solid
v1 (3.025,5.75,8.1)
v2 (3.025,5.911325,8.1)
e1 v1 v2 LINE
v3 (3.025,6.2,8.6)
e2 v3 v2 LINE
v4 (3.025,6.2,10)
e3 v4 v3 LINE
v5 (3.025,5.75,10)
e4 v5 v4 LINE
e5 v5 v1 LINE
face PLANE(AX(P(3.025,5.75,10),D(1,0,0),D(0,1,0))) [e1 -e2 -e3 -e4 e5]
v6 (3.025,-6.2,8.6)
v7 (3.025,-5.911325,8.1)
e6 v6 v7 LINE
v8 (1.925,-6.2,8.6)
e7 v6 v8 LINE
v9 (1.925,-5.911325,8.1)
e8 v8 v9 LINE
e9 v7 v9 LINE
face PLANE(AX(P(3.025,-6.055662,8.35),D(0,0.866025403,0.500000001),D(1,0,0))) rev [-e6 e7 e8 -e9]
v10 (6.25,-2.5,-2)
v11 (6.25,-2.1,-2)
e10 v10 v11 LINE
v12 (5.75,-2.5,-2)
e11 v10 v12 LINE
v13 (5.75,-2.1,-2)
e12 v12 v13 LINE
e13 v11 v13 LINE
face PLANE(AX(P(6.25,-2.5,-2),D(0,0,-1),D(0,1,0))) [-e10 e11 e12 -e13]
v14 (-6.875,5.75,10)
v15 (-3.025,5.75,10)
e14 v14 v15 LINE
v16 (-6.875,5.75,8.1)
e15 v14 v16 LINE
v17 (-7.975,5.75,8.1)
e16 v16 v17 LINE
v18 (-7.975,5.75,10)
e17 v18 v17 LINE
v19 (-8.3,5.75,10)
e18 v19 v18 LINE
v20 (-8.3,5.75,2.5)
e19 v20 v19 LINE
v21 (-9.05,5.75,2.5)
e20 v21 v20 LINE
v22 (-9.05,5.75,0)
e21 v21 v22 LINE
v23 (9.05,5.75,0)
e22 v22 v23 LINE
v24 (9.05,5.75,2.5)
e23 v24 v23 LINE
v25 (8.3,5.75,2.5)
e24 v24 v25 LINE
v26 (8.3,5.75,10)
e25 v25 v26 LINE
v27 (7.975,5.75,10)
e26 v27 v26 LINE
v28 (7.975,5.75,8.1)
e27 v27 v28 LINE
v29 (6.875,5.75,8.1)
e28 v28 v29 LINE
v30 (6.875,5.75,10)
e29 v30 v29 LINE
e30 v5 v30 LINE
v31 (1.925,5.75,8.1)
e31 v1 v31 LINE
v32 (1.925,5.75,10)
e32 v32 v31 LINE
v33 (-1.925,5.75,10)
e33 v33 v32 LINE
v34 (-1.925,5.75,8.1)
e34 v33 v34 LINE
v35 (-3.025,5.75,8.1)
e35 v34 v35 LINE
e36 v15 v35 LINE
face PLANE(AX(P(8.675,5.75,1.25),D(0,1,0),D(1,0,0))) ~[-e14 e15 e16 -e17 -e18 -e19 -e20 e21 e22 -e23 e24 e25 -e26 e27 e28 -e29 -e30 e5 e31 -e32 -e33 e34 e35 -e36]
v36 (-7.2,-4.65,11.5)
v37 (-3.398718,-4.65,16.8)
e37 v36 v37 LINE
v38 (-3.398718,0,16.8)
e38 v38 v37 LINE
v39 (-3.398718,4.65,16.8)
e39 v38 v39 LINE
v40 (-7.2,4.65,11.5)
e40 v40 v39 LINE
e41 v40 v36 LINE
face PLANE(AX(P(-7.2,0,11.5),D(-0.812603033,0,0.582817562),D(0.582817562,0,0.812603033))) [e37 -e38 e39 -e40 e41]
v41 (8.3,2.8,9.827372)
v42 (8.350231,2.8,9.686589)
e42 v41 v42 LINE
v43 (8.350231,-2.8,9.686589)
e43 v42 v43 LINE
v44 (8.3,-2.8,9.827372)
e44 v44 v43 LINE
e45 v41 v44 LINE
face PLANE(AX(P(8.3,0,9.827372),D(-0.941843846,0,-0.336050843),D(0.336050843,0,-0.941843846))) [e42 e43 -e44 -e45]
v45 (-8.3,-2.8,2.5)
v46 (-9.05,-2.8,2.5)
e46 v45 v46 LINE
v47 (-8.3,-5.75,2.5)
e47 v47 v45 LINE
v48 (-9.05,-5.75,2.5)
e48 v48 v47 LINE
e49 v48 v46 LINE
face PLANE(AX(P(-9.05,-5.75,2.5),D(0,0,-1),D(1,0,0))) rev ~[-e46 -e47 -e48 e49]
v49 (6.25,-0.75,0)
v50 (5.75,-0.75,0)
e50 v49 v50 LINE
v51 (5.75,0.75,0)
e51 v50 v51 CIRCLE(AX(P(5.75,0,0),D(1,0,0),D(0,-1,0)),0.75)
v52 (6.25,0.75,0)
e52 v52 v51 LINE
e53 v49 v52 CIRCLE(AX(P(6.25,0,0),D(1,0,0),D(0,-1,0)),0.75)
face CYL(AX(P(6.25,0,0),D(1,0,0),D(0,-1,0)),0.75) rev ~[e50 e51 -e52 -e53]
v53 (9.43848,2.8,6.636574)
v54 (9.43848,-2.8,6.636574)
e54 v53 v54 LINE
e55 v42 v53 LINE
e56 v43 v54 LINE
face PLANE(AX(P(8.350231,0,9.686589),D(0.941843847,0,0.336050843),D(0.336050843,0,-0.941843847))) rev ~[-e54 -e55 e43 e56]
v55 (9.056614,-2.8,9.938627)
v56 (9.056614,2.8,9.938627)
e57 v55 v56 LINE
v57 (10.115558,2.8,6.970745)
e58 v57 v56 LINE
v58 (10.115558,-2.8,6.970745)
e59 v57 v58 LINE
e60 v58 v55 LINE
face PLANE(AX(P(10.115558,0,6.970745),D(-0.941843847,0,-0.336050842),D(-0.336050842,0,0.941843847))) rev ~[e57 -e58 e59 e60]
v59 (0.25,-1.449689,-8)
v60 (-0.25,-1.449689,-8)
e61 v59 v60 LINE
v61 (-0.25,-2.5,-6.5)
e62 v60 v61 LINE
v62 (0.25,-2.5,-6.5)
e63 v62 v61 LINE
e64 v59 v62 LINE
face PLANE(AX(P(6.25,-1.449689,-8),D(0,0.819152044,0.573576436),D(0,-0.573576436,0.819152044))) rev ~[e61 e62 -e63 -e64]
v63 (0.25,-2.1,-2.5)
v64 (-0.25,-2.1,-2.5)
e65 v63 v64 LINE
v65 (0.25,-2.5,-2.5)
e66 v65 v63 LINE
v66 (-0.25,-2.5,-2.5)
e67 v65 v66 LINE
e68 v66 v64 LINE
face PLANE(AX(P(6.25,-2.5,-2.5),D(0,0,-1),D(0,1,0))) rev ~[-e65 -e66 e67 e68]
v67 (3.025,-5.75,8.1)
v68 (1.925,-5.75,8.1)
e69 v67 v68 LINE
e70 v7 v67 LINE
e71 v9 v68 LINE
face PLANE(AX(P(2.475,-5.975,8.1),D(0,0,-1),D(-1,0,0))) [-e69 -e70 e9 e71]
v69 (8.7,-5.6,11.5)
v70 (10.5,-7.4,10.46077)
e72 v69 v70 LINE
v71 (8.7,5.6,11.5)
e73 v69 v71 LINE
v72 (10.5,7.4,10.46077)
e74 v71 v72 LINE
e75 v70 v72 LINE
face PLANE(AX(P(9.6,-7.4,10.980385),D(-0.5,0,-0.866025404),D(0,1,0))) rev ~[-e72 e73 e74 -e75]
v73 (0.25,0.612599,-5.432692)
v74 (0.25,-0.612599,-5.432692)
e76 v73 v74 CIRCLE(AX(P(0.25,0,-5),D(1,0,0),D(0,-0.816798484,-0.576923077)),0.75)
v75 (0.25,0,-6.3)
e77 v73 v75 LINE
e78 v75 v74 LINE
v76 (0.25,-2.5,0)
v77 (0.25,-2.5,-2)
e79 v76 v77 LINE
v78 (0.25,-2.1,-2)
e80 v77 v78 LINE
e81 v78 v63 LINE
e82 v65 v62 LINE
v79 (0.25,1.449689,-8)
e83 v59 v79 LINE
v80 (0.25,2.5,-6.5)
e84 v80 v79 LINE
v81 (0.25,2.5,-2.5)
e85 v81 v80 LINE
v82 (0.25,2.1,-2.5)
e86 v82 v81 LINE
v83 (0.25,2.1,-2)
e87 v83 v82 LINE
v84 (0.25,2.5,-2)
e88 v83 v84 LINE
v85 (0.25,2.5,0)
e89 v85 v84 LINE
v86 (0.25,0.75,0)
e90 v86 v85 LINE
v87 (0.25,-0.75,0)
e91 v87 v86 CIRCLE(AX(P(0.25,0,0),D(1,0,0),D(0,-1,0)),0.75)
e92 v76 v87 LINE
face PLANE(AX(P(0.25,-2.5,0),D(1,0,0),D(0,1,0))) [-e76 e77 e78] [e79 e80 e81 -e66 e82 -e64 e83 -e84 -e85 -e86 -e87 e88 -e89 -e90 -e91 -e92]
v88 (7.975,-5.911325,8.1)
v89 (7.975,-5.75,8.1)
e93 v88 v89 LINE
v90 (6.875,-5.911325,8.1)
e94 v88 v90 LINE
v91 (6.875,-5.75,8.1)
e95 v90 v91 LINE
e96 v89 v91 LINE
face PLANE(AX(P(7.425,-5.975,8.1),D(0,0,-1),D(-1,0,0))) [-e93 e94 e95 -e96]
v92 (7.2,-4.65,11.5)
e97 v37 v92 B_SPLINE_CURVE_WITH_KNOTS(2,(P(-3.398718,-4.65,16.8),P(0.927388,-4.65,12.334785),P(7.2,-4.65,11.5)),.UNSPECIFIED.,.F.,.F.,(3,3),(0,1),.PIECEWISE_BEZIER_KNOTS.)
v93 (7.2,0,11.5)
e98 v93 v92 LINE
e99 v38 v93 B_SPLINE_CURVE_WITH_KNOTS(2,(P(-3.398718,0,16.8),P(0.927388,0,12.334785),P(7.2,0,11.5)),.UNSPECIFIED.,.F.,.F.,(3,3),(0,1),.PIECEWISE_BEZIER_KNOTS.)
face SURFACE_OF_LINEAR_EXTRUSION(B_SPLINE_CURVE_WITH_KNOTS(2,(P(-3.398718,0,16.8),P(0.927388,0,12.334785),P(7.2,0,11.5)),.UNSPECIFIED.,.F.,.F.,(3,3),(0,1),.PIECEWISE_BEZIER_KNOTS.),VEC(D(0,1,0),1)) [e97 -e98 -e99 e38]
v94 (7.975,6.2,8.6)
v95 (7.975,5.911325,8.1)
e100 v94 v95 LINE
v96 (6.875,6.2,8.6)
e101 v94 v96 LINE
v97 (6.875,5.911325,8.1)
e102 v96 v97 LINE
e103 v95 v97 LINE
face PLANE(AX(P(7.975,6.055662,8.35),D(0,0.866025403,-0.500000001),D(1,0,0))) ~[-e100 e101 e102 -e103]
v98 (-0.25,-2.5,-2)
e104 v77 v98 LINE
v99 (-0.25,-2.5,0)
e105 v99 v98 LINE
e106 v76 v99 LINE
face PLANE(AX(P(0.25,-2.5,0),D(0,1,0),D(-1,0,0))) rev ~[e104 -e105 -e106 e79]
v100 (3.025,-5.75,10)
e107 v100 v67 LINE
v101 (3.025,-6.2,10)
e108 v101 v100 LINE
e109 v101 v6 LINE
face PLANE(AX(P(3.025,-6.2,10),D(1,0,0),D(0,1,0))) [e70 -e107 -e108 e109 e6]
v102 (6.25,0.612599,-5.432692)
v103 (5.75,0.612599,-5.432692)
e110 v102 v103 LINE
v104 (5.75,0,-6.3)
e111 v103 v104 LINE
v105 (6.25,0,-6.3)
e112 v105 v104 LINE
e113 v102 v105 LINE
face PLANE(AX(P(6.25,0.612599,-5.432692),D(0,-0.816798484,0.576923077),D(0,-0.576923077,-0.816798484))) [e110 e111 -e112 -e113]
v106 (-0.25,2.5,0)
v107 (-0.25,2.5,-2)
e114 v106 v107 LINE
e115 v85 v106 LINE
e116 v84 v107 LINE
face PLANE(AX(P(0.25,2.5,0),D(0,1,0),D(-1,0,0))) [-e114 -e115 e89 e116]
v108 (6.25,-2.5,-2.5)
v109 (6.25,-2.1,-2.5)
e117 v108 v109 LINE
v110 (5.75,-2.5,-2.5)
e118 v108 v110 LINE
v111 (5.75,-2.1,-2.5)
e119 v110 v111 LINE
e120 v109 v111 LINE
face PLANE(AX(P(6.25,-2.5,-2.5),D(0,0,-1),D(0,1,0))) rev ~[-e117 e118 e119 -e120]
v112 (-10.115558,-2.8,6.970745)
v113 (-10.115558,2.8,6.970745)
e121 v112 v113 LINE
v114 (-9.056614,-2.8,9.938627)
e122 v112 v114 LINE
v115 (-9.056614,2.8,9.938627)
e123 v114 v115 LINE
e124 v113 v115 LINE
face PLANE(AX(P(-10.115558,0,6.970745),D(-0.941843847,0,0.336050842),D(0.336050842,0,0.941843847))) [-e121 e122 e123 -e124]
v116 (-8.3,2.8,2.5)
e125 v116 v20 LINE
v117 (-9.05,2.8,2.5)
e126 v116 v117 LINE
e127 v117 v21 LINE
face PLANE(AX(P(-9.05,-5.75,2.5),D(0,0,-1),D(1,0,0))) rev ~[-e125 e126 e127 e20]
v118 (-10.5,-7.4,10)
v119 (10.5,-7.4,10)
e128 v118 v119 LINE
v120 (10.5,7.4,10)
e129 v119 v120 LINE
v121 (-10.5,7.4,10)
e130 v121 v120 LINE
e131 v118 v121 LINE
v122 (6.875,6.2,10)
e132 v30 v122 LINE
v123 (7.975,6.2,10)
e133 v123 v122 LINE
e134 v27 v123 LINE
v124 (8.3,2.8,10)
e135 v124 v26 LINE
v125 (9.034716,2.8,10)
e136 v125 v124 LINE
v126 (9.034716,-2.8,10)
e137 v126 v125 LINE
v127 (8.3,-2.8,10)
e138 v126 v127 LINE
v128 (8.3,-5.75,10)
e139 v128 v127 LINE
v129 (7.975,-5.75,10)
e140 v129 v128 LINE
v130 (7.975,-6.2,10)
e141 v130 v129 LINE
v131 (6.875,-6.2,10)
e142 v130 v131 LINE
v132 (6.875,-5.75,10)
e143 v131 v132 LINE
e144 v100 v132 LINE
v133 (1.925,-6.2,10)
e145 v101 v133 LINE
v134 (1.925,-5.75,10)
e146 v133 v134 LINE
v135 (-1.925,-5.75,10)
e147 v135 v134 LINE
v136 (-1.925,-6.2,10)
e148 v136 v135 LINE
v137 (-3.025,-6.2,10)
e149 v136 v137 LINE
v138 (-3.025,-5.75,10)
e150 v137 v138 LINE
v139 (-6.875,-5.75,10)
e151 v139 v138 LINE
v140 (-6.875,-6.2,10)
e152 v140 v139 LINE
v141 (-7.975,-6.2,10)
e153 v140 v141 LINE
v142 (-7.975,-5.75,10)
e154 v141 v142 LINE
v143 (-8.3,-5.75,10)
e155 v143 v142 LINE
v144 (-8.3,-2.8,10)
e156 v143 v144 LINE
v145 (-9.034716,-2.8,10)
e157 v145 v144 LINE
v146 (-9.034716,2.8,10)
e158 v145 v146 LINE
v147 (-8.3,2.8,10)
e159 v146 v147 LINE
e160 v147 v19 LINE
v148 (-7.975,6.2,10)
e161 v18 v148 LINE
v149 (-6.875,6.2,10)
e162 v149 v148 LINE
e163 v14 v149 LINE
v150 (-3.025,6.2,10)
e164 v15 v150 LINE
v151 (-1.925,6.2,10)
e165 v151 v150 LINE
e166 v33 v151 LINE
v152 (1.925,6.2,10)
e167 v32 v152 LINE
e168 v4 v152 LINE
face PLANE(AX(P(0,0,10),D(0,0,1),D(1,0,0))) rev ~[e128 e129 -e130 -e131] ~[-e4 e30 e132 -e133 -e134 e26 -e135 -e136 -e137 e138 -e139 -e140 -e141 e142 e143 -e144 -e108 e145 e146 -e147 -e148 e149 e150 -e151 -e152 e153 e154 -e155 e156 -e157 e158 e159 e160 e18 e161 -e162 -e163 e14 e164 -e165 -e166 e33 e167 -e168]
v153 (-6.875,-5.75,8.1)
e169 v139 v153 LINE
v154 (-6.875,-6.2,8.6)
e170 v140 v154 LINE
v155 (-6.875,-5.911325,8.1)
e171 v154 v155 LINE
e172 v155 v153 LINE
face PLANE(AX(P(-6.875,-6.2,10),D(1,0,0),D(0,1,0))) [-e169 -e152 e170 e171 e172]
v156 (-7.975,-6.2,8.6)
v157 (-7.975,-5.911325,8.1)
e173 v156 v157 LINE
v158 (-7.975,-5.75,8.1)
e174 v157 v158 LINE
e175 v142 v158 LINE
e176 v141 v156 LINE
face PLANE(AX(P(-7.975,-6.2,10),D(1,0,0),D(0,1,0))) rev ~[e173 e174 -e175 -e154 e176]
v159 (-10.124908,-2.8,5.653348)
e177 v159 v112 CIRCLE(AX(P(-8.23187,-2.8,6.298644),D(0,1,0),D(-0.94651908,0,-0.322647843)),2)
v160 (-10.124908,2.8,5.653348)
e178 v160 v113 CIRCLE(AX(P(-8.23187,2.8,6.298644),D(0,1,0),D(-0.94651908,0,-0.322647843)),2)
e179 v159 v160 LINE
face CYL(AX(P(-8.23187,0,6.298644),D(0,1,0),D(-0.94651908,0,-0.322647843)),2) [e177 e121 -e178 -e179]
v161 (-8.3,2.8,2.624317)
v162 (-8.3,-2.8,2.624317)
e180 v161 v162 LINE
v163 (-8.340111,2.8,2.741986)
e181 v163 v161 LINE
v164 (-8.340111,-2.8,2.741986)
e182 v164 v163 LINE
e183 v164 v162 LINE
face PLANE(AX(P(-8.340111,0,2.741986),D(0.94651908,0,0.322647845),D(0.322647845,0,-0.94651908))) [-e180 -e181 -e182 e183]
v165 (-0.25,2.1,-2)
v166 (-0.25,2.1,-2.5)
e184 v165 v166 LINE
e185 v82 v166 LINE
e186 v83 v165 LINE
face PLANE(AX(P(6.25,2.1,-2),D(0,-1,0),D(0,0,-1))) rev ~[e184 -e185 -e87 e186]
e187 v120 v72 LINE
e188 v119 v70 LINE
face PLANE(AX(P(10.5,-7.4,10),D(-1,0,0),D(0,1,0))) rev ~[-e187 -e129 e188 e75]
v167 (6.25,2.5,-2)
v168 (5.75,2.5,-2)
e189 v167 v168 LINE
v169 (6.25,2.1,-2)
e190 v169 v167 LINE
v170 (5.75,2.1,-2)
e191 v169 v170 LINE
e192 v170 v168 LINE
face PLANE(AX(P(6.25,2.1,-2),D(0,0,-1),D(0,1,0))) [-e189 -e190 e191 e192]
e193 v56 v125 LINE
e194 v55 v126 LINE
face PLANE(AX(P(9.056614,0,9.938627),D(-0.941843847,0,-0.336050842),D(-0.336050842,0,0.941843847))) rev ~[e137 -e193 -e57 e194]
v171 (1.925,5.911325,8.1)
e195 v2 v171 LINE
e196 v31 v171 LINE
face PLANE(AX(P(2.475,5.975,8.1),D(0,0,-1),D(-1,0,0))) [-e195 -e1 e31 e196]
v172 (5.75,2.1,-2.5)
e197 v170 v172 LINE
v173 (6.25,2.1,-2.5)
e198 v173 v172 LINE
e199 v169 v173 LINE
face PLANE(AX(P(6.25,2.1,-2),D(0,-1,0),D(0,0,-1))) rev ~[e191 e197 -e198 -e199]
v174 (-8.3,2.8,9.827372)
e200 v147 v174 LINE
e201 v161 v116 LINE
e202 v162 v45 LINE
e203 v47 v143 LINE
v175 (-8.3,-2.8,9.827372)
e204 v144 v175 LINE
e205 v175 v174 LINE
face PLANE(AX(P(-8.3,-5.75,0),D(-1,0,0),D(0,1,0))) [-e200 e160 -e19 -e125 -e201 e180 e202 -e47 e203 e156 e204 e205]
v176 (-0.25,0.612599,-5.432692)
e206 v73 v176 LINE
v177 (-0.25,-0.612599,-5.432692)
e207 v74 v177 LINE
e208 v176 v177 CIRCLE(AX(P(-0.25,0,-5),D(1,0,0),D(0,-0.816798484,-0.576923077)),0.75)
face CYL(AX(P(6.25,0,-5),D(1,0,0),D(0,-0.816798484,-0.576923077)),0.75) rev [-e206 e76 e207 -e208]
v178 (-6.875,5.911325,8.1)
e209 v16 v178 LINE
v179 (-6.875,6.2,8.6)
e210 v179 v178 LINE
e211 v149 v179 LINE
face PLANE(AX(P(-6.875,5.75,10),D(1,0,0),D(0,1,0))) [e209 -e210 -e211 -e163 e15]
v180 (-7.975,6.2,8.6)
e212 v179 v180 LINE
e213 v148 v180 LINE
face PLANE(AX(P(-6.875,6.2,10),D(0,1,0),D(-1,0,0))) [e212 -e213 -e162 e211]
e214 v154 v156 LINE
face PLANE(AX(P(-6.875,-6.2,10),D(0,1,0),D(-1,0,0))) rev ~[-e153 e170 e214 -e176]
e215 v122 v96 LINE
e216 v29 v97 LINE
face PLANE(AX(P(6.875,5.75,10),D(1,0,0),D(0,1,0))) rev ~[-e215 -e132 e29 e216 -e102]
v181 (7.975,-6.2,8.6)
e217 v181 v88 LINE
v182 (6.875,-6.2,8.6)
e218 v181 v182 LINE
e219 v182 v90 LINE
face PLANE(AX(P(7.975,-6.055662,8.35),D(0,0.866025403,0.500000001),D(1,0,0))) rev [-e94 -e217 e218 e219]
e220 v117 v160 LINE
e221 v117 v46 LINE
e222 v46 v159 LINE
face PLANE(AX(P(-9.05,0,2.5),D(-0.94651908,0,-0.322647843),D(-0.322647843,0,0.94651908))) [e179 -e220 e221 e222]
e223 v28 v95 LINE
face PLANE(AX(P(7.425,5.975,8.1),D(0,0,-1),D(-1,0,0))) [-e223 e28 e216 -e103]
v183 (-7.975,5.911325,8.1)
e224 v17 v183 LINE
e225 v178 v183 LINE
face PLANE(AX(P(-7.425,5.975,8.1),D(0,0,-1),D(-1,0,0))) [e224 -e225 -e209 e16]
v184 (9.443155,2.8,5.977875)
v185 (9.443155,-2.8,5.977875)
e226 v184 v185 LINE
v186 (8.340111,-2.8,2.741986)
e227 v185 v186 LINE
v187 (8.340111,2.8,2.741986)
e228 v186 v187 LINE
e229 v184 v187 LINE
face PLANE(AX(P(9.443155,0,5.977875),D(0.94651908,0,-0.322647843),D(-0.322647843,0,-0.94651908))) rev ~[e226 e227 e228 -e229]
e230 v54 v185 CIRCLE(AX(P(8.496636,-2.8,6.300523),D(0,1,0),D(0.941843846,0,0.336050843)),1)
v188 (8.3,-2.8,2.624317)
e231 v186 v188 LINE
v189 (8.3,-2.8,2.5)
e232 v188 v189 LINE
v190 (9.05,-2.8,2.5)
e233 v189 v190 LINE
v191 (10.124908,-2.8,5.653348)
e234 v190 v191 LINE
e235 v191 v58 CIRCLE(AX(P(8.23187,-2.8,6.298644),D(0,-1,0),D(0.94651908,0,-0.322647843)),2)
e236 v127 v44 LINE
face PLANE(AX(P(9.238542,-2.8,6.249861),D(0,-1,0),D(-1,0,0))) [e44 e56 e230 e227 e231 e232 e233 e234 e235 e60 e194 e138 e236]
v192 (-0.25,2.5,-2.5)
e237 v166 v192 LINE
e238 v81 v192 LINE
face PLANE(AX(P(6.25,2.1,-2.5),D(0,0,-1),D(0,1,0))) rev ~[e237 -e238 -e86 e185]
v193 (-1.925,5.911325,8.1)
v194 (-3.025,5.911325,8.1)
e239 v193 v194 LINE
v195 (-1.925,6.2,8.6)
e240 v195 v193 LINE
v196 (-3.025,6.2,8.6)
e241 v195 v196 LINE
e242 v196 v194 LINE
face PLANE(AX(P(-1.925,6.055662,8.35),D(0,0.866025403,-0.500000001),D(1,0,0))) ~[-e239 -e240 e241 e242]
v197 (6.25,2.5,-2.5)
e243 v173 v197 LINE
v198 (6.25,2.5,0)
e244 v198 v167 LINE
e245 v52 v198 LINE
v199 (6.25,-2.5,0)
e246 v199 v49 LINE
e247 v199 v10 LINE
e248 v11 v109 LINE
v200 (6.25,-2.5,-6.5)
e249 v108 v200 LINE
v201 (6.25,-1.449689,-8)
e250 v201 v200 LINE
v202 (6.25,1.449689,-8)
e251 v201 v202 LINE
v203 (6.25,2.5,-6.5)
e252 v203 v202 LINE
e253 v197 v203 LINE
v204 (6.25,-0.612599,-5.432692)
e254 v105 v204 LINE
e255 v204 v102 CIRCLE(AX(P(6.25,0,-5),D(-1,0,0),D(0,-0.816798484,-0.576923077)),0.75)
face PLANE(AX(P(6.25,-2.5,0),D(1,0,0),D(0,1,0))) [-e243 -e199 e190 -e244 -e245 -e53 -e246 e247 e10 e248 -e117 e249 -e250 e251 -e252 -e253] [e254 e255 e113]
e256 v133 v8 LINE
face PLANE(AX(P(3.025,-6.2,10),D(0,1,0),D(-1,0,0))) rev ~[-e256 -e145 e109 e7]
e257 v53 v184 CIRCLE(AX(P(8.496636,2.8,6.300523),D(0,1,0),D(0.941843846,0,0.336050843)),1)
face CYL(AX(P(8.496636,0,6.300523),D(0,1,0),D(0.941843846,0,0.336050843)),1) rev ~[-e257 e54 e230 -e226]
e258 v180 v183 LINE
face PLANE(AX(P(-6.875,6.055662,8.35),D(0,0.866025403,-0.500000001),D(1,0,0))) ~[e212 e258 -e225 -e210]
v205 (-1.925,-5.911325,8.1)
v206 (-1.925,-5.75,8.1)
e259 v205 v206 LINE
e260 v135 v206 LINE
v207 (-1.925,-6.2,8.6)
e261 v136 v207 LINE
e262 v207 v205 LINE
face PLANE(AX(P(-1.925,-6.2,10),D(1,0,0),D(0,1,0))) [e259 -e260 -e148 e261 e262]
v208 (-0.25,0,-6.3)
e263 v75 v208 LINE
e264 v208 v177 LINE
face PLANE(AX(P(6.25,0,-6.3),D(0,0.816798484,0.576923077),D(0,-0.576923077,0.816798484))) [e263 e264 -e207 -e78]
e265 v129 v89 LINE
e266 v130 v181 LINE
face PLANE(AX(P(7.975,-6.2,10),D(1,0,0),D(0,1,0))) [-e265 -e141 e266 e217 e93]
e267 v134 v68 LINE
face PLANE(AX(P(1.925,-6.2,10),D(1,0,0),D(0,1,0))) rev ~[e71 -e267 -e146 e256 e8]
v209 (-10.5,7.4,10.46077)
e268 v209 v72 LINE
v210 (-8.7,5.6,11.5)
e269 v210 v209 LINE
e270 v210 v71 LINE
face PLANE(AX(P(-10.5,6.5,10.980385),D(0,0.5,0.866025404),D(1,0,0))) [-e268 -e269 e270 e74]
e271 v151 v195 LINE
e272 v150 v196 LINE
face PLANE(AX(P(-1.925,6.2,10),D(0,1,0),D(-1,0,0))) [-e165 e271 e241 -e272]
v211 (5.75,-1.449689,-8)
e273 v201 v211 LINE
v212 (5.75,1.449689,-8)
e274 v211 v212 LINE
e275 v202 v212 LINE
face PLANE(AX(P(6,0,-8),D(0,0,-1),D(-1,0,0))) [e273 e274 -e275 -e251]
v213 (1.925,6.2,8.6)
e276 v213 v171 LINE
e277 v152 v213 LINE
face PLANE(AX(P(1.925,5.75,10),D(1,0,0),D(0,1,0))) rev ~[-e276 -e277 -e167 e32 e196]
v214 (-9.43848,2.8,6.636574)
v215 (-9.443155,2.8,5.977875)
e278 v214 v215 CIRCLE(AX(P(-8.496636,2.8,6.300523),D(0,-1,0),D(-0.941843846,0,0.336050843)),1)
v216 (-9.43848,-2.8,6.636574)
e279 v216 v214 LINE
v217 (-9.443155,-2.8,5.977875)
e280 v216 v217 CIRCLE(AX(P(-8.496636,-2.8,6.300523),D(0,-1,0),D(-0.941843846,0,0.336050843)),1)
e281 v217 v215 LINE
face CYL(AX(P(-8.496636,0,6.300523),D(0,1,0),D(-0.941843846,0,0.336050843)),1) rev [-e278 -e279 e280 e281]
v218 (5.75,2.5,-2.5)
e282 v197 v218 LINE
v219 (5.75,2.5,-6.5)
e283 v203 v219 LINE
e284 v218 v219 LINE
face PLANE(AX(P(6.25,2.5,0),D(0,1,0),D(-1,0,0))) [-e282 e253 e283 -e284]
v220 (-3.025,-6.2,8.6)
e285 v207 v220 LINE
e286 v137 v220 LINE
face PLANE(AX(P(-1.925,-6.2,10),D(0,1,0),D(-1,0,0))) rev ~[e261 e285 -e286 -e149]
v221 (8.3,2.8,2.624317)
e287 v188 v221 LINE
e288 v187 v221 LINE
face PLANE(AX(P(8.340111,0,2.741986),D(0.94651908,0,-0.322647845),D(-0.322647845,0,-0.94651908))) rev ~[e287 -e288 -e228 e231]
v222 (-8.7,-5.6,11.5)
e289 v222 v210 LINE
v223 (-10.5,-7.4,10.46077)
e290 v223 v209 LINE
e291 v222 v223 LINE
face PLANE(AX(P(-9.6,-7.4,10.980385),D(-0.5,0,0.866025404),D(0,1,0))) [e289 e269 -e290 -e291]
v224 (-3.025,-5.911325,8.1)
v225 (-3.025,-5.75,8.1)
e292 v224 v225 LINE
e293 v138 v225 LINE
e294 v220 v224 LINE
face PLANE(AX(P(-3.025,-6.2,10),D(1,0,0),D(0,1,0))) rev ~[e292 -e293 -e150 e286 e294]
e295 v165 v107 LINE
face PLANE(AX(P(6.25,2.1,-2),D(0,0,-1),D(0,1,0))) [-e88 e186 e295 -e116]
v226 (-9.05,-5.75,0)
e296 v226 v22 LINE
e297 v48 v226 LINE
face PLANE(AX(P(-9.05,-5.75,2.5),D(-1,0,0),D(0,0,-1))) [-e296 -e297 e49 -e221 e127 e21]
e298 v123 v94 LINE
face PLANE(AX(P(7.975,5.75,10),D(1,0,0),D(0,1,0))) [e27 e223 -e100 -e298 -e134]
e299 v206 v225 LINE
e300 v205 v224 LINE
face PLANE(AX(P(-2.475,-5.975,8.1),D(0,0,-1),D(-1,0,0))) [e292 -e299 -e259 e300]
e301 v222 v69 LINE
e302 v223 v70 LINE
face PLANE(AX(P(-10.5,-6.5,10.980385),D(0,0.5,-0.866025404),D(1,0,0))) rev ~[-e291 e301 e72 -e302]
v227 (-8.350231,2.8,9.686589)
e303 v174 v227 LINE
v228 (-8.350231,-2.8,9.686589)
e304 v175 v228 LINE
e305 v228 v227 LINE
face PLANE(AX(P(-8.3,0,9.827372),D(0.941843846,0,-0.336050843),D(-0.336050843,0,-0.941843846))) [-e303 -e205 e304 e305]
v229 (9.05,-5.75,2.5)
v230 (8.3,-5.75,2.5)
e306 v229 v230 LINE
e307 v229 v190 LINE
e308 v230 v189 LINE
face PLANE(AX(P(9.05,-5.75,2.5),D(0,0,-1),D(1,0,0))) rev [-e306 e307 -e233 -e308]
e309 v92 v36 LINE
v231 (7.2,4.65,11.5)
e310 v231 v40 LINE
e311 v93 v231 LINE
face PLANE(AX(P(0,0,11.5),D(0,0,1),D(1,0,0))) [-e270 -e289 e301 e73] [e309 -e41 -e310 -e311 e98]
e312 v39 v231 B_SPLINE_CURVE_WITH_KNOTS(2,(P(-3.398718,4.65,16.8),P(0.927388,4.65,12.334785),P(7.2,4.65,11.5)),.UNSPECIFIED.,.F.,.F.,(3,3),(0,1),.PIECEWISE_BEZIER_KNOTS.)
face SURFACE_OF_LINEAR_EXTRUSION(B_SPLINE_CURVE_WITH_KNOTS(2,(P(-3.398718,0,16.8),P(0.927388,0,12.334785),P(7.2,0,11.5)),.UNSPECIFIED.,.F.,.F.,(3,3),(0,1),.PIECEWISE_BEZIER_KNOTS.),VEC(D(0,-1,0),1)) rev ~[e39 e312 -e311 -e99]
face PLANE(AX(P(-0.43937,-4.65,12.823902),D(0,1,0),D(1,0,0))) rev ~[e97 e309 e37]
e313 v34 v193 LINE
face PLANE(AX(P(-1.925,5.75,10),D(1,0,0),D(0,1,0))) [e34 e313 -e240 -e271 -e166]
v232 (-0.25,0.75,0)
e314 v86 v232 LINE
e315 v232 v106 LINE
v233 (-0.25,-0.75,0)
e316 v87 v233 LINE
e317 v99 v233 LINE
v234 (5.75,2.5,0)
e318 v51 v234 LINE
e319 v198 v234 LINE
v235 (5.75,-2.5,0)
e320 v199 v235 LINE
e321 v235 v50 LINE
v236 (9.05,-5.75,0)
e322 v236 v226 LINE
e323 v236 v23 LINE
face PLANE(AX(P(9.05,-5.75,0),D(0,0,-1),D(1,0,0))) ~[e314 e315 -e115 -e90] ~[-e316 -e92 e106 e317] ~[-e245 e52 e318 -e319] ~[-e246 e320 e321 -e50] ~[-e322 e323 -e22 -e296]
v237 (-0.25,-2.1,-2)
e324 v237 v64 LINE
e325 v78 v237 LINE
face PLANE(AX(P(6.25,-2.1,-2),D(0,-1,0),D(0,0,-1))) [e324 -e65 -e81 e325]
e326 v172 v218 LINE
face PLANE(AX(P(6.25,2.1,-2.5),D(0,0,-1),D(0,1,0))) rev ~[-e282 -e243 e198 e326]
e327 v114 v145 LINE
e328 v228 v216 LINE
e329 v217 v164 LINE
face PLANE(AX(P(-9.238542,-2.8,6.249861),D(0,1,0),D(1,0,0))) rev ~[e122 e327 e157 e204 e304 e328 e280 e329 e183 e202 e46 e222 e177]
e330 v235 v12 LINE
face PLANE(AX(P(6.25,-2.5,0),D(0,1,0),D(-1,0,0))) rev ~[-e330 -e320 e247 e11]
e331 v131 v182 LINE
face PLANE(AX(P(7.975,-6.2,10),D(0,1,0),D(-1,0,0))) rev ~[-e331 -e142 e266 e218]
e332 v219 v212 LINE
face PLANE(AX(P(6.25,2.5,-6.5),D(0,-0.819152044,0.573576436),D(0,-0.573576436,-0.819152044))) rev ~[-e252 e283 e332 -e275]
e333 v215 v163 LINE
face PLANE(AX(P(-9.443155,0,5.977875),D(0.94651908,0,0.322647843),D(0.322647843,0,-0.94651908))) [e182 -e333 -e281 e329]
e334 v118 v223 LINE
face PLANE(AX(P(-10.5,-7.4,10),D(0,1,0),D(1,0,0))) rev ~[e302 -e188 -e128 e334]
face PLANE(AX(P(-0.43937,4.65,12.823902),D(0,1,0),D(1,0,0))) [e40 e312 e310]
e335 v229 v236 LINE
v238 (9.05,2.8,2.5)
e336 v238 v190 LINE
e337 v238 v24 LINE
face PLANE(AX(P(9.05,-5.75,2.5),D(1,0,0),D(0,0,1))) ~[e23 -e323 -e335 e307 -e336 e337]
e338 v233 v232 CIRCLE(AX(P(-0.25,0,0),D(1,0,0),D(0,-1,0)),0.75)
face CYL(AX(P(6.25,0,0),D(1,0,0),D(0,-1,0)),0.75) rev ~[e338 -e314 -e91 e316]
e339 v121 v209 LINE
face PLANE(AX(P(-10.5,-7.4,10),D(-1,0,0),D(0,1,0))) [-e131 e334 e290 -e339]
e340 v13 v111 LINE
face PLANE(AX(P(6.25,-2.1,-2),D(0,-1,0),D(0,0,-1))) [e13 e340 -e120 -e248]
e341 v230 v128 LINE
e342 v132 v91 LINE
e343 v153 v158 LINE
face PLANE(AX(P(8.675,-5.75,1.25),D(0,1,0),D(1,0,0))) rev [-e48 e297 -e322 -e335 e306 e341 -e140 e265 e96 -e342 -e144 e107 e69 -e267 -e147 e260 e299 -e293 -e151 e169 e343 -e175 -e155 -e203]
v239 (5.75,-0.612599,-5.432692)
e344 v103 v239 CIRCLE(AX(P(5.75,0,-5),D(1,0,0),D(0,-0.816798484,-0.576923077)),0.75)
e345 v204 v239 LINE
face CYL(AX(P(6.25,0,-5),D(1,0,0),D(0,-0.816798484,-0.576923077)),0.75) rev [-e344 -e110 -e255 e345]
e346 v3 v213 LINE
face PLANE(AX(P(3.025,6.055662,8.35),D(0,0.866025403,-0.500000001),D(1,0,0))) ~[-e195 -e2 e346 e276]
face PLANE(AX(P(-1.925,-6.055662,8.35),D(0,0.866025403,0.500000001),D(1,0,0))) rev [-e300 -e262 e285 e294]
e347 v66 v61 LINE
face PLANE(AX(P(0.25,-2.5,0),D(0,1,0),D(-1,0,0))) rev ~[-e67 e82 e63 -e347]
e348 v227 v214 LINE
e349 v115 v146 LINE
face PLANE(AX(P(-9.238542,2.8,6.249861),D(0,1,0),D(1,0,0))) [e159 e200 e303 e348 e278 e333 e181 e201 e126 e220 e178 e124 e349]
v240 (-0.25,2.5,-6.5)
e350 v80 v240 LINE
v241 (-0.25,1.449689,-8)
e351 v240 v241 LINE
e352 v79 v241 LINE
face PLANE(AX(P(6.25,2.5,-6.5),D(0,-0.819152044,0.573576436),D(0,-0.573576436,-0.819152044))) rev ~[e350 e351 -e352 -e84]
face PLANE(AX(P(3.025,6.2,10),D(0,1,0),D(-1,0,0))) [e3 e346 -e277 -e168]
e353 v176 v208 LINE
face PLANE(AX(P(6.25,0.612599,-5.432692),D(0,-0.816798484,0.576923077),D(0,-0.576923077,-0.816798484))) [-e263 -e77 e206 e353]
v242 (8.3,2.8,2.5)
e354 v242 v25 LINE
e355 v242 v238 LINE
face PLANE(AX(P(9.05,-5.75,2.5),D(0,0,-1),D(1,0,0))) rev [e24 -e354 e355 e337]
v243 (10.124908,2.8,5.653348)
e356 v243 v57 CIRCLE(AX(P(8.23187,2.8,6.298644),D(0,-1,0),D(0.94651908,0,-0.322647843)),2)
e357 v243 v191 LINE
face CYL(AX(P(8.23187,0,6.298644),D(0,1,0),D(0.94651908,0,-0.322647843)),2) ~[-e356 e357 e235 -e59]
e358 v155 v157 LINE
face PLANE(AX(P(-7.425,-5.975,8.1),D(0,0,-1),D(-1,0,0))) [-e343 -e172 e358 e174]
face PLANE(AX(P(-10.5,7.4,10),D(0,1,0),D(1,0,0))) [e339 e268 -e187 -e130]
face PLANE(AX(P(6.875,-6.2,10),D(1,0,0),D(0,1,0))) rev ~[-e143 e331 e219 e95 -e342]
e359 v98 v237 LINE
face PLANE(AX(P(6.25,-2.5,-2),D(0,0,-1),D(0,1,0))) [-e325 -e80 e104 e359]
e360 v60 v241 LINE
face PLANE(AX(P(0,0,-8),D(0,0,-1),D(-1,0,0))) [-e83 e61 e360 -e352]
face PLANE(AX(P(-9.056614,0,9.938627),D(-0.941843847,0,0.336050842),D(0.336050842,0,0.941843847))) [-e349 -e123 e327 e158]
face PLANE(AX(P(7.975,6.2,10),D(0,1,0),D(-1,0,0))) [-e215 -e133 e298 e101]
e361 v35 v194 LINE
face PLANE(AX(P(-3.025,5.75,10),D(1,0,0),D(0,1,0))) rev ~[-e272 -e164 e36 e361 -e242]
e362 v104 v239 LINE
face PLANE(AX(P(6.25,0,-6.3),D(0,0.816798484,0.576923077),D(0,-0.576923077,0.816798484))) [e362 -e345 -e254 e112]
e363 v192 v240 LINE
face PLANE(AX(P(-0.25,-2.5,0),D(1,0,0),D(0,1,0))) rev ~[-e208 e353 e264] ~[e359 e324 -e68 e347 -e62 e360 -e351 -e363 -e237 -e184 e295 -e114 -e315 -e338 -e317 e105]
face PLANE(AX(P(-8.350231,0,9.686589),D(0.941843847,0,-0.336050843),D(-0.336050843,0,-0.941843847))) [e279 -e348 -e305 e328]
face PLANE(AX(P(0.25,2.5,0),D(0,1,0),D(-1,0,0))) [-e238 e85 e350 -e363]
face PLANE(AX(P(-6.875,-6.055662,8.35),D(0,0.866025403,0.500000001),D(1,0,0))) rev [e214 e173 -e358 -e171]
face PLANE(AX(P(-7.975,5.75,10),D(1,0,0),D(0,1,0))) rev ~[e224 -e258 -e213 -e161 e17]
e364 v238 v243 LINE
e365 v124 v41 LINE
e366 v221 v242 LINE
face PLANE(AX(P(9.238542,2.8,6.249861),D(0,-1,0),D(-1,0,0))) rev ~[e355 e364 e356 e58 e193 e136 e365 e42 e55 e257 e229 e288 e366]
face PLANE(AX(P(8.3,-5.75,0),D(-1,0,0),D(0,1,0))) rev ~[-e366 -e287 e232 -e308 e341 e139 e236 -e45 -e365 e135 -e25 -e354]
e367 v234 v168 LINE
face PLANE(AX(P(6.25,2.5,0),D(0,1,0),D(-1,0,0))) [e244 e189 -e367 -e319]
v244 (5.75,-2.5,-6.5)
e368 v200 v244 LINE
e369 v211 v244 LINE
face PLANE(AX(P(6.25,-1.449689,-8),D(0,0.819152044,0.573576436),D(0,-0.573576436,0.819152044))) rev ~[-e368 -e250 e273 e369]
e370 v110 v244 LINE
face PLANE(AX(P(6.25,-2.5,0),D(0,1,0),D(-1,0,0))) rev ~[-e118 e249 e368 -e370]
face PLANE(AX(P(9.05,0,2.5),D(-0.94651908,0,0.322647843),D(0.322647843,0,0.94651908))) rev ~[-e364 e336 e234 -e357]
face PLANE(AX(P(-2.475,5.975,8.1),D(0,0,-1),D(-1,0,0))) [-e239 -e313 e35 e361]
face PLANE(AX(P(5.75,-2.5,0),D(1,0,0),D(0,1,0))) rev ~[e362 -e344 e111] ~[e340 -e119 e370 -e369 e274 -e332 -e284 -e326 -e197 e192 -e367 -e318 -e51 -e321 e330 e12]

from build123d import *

# Parameters (mm, degrees)
SKETCH1_W                = 16.6
SKETCH1_H                = 11.5
BOSS_EXTRUDE1_DEPTH      = 10
SKETCH2_W                = 21
SKETCH2_H                = 14.8
BOSS_EXTRUDE2_DEPTH      = 1.5
SKETCH3_W                = 0.5
SKETCH3_H                = 5
BOSS_EXTRUDE3_DEPTH      = 8
SKETCH4_W                = 0.5
SKETCH4_H                = 0.4
CUT_EXTRUDE1_DEPTH       = 17.75
BOSS_EXTRUDE4_START      = -5.75
SKETCH5_W                = 0.75
SKETCH5_H                = 2.5
BOSS_EXTRUDE4_DEPTH      = 11.5
BOSS_EXTRUDE5_DEPTH      = 2.8
BOSS_EXTRUDE5_DEPTH_BACK = 2.8
CHAMFER1_SIZE            = 1.8
CHAMFER1_SIZE2           = 1.039230485
BOSS_EXTRUDE6_DEPTH      = 4.65
SKETCH9_W                = 1.1
SKETCH9_H                = 0.45
BOSS_EXTRUDE7_DEPTH      = 1.9
CHAMFER2_SIZE            = 0.5
CHAMFER2_SIZE2           = 0.288675135
CHAMFER2_PART_2_SIZE     = 0.5
CHAMFER2_PART_2_SIZE2    = 0.288675135
CHAMFER2_PART_3_SIZE     = 0.5
CHAMFER2_PART_3_SIZE2    = 0.288675135
CHAMFER2_PART_4_SIZE     = 0.5
CHAMFER2_PART_4_SIZE2    = 0.288675135
CHAMFER2_PART_5_SIZE     = 0.5
CHAMFER2_PART_5_SIZE2    = 0.288675135
CHAMFER2_PART_6_SIZE     = 0.5
CHAMFER2_PART_6_SIZE2    = 0.288675135
CHAMFER2_PART_7_SIZE     = 0.5
CHAMFER2_PART_7_SIZE2    = 0.288675135
CHAMFER2_PART_8_SIZE     = 0.5
CHAMFER2_PART_8_SIZE2    = 0.288675135


with BuildPart() as part:
    # Sketch1 → Boss-Extrude1 (new body)
    with BuildSketch(Plane.XY):
        Rectangle(SKETCH1_W, SKETCH1_H)
    extrude(amount=BOSS_EXTRUDE1_DEPTH)

    # Sketch2 → Boss-Extrude2 (add)
    with BuildSketch(Plane.XY.offset(10)):
        Rectangle(SKETCH2_W, SKETCH2_H)
    extrude(amount=BOSS_EXTRUDE2_DEPTH)

    # Sketch3 → Boss-Extrude3 (add)
    with BuildSketch(Plane(origin=(0, 0, 0), x_dir=(-1, 0, 0), z_dir=(0, 0, -1))):
        with Locations((-6, 0)):
            Rectangle(SKETCH3_W, SKETCH3_H)
        Rectangle(SKETCH3_W, SKETCH3_H)
    extrude(amount=BOSS_EXTRUDE3_DEPTH)

    # Sketch4 → Cut-Extrude1 (cut, through all)
    with BuildSketch(Plane(origin=(6.25, 0, 0), x_dir=(0, 0, -1), z_dir=(1, 0, 0))):
        with Locations((2.25, 2.3)):
            Rectangle(SKETCH4_W, SKETCH4_H)
        with BuildLine():
            Line((0, 0.75), (0, -0.75))
            ThreePointArc((0, -0.75), (0.75, 0), (0, 0.75))
        make_face()
        Polygon((6.5, 2.5), (8, 1.449688693), (8, 2.5), align=None)
        with BuildLine():
            Line((5.432692308, 0.612598863), (6.3, 0))
            Line((6.3, 0), (5.432692308, -0.612598863))
            ThreePointArc((5.432692308, -0.612598863), (4.25, 0), (5.432692308, 0.612598863))
        make_face()
        Polygon((8, -2.5), (8, -1.449688693), (6.5, -2.5), align=None)
        with Locations((2.25, -2.3)):
            Rectangle(SKETCH4_W, SKETCH4_H)
    extrude(amount=-CUT_EXTRUDE1_DEPTH, mode=Mode.SUBTRACT)

    # Sketch5 → Boss-Extrude4 (add)
    with BuildSketch(Plane(origin=(0, 0, 0), x_dir=(1, 0, 0), z_dir=(0, 1, 0)).offset(BOSS_EXTRUDE4_START)):
        with Locations((-8.675, -1.25)):
            Rectangle(SKETCH5_W, SKETCH5_H)
    boss_extrude4 = extrude(amount=BOSS_EXTRUDE4_DEPTH)

    # Mirror1: Boss-Extrude4 across plane
    add(boss_extrude4.mirror(Plane(origin=(0, 0, 0), x_dir=(0, 0, 1), z_dir=(1, 0, 0))))

    # Sketch6 → Boss-Extrude5 (add, two sides)
    with BuildSketch(Plane(origin=(0, 0, 0), x_dir=(1, 0, 0), z_dir=(0, 1, 0))) as boss_extrude5_sk:
        with BuildLine():
            Line((-9.05, -2.5), (-10.124907983, -5.653347952))
            ThreePointArc((-10.124907983, -5.653347952), (-10.231819447, -6.312838644), (-10.115557515, -6.970745323))
            Line((-10.115557515, -6.970745323), (-9.056614332, -9.938626949))
            Line((-9.056614332, -9.938626949), (-9.034716365, -10))
            Line((-9.034716365, -10), (-8.3, -10))
            Line((-8.3, -10), (-8.3, -9.827371619))
            Line((-8.3, -9.827371619), (-8.350231447, -9.686588817))
            Line((-8.350231447, -9.686588817), (-9.438479941, -6.636573707))
            ThreePointArc((-9.438479941, -6.636573707), (-9.496610907, -6.307620368), (-9.443155175, -5.977875022))
            Line((-9.443155175, -5.977875022), (-8.34011069, -2.741985882))
            Line((-8.34011069, -2.741985882), (-8.3, -2.624317241))
            Line((-8.3, -2.624317241), (-8.3, -2.5))
            Line((-8.3, -2.5), (-9.05, -2.5))
        make_face()
        with BuildLine():
            Line((8.3, -9.827371619), (8.350231447, -9.686588817))
            Line((8.350231447, -9.686588817), (9.438479941, -6.636573707))
            ThreePointArc((9.438479941, -6.636573707), (9.496610907, -6.307620368), (9.443155175, -5.977875022))
            Line((9.443155175, -5.977875022), (8.34011069, -2.741985882))
            Line((8.34011069, -2.741985882), (8.3, -2.624317241))
            Line((8.3, -2.624317241), (8.3, -2.5))
            Line((8.3, -2.5), (9.05, -2.5))
            Line((9.05, -2.5), (10.124907983, -5.653347952))
            ThreePointArc((10.124907983, -5.653347952), (10.231819447, -6.312838644), (10.115557515, -6.970745323))
            Line((10.115557515, -6.970745323), (9.056614332, -9.938626949))
            Line((9.056614332, -9.938626949), (9.034716365, -10))
            Line((9.034716365, -10), (8.3, -10))
            Line((8.3, -10), (8.3, -9.827371619))
        make_face()
    extrude(amount=BOSS_EXTRUDE5_DEPTH)
    extrude(boss_extrude5_sk.sketch, amount=-BOSS_EXTRUDE5_DEPTH_BACK)

    # Chamfer1
    chamfer1_edges = [part.edges().sort_by_distance(p)[0] for p in [
        (10.5, 0, 11.5),
        (0, 7.4, 11.5),
        (-10.5, 0, 11.5),
        (0, -7.4, 11.5),
    ]]
    chamfer1_side = [part.faces().sort_by_distance(p)[0] for p in [
        (0, 0, 11.5),
    ]]
    chamfer(chamfer1_edges, length=CHAMFER1_SIZE, length2=CHAMFER1_SIZE2, reference=chamfer1_side[0])

    # Sketch7 → Boss-Extrude6 (add, symmetric)
    with BuildSketch(Plane(origin=(0, 0, 0), x_dir=(1, 0, 0), z_dir=(0, 1, 0))):
        with BuildLine():
            Line((-7.2, -11.5), (-3.398718251, -16.8))
            add(Edge.make_bspline(
                [(-3.398718251, -16.8), (0.927387699, -12.334784825), (7.2, -11.5)],
                knots=[0, 0, 0, 1, 1, 1], degree=2))
            Line((7.2, -11.5), (-7.2, -11.5))
        make_face()
    extrude(amount=BOSS_EXTRUDE6_DEPTH, both=True)

    # Sketch9 → Boss-Extrude7 (add)
    with BuildSketch(Plane(origin=(0, 0, 10), x_dir=(-1, 0, 0), z_dir=(0, 0, -1))):
        with Locations((-7.425, 5.975)):
            Rectangle(SKETCH9_W, SKETCH9_H)
        with Locations((-2.475, 5.975)):
            Rectangle(SKETCH9_W, SKETCH9_H)
        with Locations((2.475, 5.975)):
            Rectangle(SKETCH9_W, SKETCH9_H)
        with Locations((7.425, 5.975)):
            Rectangle(SKETCH9_W, SKETCH9_H)
        with Locations((7.425, -5.975)):
            Rectangle(SKETCH9_W, SKETCH9_H)
        with Locations((2.475, -5.975)):
            Rectangle(SKETCH9_W, SKETCH9_H)
        with Locations((-2.475, -5.975)):
            Rectangle(SKETCH9_W, SKETCH9_H)
        with Locations((-7.425, -5.975)):
            Rectangle(SKETCH9_W, SKETCH9_H)
    extrude(amount=BOSS_EXTRUDE7_DEPTH)

    # Chamfer2
    chamfer2_edges = [part.edges().sort_by_distance(p)[0] for p in [
        (7.425, 6.2, 8.1),
    ]]
    chamfer2_side = [part.faces().sort_by_distance(p)[0] for p in [
        (7.425, 6.2, 9.05),
    ]]
    chamfer(chamfer2_edges, length=CHAMFER2_SIZE, length2=CHAMFER2_SIZE2, reference=chamfer2_side[0])

    # Chamfer2 part 2
    chamfer2_part_2_edges = [part.edges().sort_by_distance(p)[0] for p in [
        (2.475, 6.2, 8.1),
    ]]
    chamfer2_part_2_side = [part.faces().sort_by_distance(p)[0] for p in [
        (2.475, 6.2, 9.05),
    ]]
    chamfer(chamfer2_part_2_edges, length=CHAMFER2_PART_2_SIZE, length2=CHAMFER2_PART_2_SIZE2, reference=chamfer2_part_2_side[0])

    # Chamfer2 part 3
    chamfer2_part_3_edges = [part.edges().sort_by_distance(p)[0] for p in [
        (-2.475, 6.2, 8.1),
    ]]
    chamfer2_part_3_side = [part.faces().sort_by_distance(p)[0] for p in [
        (-2.475, 6.2, 9.05),
    ]]
    chamfer(chamfer2_part_3_edges, length=CHAMFER2_PART_3_SIZE, length2=CHAMFER2_PART_3_SIZE2, reference=chamfer2_part_3_side[0])

    # Chamfer2 part 4
    chamfer2_part_4_edges = [part.edges().sort_by_distance(p)[0] for p in [
        (-7.425, 6.2, 8.1),
    ]]
    chamfer2_part_4_side = [part.faces().sort_by_distance(p)[0] for p in [
        (-7.425, 6.2, 9.05),
    ]]
    chamfer(chamfer2_part_4_edges, length=CHAMFER2_PART_4_SIZE, length2=CHAMFER2_PART_4_SIZE2, reference=chamfer2_part_4_side[0])

    # Chamfer2 part 5
    chamfer2_part_5_edges = [part.edges().sort_by_distance(p)[0] for p in [
        (-7.425, -6.2, 8.1),
    ]]
    chamfer2_part_5_side = [part.faces().sort_by_distance(p)[0] for p in [
        (-7.425, -6.2, 9.05),
    ]]
    chamfer(chamfer2_part_5_edges, length=CHAMFER2_PART_5_SIZE, length2=CHAMFER2_PART_5_SIZE2, reference=chamfer2_part_5_side[0])

    # Chamfer2 part 6
    chamfer2_part_6_edges = [part.edges().sort_by_distance(p)[0] for p in [
        (-2.475, -6.2, 8.1),
    ]]
    chamfer2_part_6_side = [part.faces().sort_by_distance(p)[0] for p in [
        (-2.475, -6.2, 9.05),
    ]]
    chamfer(chamfer2_part_6_edges, length=CHAMFER2_PART_6_SIZE, length2=CHAMFER2_PART_6_SIZE2, reference=chamfer2_part_6_side[0])

    # Chamfer2 part 7
    chamfer2_part_7_edges = [part.edges().sort_by_distance(p)[0] for p in [
        (2.475, -6.2, 8.1),
    ]]
    chamfer2_part_7_side = [part.faces().sort_by_distance(p)[0] for p in [
        (2.475, -6.2, 9.05),
    ]]
    chamfer(chamfer2_part_7_edges, length=CHAMFER2_PART_7_SIZE, length2=CHAMFER2_PART_7_SIZE2, reference=chamfer2_part_7_side[0])

    # Chamfer2 part 8
    chamfer2_part_8_edges = [part.edges().sort_by_distance(p)[0] for p in [
        (7.425, -6.2, 8.1),
    ]]
    chamfer2_part_8_side = [part.faces().sort_by_distance(p)[0] for p in [
        (7.425, -6.2, 9.05),
    ]]
    chamfer(chamfer2_part_8_edges, length=CHAMFER2_PART_8_SIZE, length2=CHAMFER2_PART_8_SIZE2, reference=chamfer2_part_8_side[0])


solid = part.part
